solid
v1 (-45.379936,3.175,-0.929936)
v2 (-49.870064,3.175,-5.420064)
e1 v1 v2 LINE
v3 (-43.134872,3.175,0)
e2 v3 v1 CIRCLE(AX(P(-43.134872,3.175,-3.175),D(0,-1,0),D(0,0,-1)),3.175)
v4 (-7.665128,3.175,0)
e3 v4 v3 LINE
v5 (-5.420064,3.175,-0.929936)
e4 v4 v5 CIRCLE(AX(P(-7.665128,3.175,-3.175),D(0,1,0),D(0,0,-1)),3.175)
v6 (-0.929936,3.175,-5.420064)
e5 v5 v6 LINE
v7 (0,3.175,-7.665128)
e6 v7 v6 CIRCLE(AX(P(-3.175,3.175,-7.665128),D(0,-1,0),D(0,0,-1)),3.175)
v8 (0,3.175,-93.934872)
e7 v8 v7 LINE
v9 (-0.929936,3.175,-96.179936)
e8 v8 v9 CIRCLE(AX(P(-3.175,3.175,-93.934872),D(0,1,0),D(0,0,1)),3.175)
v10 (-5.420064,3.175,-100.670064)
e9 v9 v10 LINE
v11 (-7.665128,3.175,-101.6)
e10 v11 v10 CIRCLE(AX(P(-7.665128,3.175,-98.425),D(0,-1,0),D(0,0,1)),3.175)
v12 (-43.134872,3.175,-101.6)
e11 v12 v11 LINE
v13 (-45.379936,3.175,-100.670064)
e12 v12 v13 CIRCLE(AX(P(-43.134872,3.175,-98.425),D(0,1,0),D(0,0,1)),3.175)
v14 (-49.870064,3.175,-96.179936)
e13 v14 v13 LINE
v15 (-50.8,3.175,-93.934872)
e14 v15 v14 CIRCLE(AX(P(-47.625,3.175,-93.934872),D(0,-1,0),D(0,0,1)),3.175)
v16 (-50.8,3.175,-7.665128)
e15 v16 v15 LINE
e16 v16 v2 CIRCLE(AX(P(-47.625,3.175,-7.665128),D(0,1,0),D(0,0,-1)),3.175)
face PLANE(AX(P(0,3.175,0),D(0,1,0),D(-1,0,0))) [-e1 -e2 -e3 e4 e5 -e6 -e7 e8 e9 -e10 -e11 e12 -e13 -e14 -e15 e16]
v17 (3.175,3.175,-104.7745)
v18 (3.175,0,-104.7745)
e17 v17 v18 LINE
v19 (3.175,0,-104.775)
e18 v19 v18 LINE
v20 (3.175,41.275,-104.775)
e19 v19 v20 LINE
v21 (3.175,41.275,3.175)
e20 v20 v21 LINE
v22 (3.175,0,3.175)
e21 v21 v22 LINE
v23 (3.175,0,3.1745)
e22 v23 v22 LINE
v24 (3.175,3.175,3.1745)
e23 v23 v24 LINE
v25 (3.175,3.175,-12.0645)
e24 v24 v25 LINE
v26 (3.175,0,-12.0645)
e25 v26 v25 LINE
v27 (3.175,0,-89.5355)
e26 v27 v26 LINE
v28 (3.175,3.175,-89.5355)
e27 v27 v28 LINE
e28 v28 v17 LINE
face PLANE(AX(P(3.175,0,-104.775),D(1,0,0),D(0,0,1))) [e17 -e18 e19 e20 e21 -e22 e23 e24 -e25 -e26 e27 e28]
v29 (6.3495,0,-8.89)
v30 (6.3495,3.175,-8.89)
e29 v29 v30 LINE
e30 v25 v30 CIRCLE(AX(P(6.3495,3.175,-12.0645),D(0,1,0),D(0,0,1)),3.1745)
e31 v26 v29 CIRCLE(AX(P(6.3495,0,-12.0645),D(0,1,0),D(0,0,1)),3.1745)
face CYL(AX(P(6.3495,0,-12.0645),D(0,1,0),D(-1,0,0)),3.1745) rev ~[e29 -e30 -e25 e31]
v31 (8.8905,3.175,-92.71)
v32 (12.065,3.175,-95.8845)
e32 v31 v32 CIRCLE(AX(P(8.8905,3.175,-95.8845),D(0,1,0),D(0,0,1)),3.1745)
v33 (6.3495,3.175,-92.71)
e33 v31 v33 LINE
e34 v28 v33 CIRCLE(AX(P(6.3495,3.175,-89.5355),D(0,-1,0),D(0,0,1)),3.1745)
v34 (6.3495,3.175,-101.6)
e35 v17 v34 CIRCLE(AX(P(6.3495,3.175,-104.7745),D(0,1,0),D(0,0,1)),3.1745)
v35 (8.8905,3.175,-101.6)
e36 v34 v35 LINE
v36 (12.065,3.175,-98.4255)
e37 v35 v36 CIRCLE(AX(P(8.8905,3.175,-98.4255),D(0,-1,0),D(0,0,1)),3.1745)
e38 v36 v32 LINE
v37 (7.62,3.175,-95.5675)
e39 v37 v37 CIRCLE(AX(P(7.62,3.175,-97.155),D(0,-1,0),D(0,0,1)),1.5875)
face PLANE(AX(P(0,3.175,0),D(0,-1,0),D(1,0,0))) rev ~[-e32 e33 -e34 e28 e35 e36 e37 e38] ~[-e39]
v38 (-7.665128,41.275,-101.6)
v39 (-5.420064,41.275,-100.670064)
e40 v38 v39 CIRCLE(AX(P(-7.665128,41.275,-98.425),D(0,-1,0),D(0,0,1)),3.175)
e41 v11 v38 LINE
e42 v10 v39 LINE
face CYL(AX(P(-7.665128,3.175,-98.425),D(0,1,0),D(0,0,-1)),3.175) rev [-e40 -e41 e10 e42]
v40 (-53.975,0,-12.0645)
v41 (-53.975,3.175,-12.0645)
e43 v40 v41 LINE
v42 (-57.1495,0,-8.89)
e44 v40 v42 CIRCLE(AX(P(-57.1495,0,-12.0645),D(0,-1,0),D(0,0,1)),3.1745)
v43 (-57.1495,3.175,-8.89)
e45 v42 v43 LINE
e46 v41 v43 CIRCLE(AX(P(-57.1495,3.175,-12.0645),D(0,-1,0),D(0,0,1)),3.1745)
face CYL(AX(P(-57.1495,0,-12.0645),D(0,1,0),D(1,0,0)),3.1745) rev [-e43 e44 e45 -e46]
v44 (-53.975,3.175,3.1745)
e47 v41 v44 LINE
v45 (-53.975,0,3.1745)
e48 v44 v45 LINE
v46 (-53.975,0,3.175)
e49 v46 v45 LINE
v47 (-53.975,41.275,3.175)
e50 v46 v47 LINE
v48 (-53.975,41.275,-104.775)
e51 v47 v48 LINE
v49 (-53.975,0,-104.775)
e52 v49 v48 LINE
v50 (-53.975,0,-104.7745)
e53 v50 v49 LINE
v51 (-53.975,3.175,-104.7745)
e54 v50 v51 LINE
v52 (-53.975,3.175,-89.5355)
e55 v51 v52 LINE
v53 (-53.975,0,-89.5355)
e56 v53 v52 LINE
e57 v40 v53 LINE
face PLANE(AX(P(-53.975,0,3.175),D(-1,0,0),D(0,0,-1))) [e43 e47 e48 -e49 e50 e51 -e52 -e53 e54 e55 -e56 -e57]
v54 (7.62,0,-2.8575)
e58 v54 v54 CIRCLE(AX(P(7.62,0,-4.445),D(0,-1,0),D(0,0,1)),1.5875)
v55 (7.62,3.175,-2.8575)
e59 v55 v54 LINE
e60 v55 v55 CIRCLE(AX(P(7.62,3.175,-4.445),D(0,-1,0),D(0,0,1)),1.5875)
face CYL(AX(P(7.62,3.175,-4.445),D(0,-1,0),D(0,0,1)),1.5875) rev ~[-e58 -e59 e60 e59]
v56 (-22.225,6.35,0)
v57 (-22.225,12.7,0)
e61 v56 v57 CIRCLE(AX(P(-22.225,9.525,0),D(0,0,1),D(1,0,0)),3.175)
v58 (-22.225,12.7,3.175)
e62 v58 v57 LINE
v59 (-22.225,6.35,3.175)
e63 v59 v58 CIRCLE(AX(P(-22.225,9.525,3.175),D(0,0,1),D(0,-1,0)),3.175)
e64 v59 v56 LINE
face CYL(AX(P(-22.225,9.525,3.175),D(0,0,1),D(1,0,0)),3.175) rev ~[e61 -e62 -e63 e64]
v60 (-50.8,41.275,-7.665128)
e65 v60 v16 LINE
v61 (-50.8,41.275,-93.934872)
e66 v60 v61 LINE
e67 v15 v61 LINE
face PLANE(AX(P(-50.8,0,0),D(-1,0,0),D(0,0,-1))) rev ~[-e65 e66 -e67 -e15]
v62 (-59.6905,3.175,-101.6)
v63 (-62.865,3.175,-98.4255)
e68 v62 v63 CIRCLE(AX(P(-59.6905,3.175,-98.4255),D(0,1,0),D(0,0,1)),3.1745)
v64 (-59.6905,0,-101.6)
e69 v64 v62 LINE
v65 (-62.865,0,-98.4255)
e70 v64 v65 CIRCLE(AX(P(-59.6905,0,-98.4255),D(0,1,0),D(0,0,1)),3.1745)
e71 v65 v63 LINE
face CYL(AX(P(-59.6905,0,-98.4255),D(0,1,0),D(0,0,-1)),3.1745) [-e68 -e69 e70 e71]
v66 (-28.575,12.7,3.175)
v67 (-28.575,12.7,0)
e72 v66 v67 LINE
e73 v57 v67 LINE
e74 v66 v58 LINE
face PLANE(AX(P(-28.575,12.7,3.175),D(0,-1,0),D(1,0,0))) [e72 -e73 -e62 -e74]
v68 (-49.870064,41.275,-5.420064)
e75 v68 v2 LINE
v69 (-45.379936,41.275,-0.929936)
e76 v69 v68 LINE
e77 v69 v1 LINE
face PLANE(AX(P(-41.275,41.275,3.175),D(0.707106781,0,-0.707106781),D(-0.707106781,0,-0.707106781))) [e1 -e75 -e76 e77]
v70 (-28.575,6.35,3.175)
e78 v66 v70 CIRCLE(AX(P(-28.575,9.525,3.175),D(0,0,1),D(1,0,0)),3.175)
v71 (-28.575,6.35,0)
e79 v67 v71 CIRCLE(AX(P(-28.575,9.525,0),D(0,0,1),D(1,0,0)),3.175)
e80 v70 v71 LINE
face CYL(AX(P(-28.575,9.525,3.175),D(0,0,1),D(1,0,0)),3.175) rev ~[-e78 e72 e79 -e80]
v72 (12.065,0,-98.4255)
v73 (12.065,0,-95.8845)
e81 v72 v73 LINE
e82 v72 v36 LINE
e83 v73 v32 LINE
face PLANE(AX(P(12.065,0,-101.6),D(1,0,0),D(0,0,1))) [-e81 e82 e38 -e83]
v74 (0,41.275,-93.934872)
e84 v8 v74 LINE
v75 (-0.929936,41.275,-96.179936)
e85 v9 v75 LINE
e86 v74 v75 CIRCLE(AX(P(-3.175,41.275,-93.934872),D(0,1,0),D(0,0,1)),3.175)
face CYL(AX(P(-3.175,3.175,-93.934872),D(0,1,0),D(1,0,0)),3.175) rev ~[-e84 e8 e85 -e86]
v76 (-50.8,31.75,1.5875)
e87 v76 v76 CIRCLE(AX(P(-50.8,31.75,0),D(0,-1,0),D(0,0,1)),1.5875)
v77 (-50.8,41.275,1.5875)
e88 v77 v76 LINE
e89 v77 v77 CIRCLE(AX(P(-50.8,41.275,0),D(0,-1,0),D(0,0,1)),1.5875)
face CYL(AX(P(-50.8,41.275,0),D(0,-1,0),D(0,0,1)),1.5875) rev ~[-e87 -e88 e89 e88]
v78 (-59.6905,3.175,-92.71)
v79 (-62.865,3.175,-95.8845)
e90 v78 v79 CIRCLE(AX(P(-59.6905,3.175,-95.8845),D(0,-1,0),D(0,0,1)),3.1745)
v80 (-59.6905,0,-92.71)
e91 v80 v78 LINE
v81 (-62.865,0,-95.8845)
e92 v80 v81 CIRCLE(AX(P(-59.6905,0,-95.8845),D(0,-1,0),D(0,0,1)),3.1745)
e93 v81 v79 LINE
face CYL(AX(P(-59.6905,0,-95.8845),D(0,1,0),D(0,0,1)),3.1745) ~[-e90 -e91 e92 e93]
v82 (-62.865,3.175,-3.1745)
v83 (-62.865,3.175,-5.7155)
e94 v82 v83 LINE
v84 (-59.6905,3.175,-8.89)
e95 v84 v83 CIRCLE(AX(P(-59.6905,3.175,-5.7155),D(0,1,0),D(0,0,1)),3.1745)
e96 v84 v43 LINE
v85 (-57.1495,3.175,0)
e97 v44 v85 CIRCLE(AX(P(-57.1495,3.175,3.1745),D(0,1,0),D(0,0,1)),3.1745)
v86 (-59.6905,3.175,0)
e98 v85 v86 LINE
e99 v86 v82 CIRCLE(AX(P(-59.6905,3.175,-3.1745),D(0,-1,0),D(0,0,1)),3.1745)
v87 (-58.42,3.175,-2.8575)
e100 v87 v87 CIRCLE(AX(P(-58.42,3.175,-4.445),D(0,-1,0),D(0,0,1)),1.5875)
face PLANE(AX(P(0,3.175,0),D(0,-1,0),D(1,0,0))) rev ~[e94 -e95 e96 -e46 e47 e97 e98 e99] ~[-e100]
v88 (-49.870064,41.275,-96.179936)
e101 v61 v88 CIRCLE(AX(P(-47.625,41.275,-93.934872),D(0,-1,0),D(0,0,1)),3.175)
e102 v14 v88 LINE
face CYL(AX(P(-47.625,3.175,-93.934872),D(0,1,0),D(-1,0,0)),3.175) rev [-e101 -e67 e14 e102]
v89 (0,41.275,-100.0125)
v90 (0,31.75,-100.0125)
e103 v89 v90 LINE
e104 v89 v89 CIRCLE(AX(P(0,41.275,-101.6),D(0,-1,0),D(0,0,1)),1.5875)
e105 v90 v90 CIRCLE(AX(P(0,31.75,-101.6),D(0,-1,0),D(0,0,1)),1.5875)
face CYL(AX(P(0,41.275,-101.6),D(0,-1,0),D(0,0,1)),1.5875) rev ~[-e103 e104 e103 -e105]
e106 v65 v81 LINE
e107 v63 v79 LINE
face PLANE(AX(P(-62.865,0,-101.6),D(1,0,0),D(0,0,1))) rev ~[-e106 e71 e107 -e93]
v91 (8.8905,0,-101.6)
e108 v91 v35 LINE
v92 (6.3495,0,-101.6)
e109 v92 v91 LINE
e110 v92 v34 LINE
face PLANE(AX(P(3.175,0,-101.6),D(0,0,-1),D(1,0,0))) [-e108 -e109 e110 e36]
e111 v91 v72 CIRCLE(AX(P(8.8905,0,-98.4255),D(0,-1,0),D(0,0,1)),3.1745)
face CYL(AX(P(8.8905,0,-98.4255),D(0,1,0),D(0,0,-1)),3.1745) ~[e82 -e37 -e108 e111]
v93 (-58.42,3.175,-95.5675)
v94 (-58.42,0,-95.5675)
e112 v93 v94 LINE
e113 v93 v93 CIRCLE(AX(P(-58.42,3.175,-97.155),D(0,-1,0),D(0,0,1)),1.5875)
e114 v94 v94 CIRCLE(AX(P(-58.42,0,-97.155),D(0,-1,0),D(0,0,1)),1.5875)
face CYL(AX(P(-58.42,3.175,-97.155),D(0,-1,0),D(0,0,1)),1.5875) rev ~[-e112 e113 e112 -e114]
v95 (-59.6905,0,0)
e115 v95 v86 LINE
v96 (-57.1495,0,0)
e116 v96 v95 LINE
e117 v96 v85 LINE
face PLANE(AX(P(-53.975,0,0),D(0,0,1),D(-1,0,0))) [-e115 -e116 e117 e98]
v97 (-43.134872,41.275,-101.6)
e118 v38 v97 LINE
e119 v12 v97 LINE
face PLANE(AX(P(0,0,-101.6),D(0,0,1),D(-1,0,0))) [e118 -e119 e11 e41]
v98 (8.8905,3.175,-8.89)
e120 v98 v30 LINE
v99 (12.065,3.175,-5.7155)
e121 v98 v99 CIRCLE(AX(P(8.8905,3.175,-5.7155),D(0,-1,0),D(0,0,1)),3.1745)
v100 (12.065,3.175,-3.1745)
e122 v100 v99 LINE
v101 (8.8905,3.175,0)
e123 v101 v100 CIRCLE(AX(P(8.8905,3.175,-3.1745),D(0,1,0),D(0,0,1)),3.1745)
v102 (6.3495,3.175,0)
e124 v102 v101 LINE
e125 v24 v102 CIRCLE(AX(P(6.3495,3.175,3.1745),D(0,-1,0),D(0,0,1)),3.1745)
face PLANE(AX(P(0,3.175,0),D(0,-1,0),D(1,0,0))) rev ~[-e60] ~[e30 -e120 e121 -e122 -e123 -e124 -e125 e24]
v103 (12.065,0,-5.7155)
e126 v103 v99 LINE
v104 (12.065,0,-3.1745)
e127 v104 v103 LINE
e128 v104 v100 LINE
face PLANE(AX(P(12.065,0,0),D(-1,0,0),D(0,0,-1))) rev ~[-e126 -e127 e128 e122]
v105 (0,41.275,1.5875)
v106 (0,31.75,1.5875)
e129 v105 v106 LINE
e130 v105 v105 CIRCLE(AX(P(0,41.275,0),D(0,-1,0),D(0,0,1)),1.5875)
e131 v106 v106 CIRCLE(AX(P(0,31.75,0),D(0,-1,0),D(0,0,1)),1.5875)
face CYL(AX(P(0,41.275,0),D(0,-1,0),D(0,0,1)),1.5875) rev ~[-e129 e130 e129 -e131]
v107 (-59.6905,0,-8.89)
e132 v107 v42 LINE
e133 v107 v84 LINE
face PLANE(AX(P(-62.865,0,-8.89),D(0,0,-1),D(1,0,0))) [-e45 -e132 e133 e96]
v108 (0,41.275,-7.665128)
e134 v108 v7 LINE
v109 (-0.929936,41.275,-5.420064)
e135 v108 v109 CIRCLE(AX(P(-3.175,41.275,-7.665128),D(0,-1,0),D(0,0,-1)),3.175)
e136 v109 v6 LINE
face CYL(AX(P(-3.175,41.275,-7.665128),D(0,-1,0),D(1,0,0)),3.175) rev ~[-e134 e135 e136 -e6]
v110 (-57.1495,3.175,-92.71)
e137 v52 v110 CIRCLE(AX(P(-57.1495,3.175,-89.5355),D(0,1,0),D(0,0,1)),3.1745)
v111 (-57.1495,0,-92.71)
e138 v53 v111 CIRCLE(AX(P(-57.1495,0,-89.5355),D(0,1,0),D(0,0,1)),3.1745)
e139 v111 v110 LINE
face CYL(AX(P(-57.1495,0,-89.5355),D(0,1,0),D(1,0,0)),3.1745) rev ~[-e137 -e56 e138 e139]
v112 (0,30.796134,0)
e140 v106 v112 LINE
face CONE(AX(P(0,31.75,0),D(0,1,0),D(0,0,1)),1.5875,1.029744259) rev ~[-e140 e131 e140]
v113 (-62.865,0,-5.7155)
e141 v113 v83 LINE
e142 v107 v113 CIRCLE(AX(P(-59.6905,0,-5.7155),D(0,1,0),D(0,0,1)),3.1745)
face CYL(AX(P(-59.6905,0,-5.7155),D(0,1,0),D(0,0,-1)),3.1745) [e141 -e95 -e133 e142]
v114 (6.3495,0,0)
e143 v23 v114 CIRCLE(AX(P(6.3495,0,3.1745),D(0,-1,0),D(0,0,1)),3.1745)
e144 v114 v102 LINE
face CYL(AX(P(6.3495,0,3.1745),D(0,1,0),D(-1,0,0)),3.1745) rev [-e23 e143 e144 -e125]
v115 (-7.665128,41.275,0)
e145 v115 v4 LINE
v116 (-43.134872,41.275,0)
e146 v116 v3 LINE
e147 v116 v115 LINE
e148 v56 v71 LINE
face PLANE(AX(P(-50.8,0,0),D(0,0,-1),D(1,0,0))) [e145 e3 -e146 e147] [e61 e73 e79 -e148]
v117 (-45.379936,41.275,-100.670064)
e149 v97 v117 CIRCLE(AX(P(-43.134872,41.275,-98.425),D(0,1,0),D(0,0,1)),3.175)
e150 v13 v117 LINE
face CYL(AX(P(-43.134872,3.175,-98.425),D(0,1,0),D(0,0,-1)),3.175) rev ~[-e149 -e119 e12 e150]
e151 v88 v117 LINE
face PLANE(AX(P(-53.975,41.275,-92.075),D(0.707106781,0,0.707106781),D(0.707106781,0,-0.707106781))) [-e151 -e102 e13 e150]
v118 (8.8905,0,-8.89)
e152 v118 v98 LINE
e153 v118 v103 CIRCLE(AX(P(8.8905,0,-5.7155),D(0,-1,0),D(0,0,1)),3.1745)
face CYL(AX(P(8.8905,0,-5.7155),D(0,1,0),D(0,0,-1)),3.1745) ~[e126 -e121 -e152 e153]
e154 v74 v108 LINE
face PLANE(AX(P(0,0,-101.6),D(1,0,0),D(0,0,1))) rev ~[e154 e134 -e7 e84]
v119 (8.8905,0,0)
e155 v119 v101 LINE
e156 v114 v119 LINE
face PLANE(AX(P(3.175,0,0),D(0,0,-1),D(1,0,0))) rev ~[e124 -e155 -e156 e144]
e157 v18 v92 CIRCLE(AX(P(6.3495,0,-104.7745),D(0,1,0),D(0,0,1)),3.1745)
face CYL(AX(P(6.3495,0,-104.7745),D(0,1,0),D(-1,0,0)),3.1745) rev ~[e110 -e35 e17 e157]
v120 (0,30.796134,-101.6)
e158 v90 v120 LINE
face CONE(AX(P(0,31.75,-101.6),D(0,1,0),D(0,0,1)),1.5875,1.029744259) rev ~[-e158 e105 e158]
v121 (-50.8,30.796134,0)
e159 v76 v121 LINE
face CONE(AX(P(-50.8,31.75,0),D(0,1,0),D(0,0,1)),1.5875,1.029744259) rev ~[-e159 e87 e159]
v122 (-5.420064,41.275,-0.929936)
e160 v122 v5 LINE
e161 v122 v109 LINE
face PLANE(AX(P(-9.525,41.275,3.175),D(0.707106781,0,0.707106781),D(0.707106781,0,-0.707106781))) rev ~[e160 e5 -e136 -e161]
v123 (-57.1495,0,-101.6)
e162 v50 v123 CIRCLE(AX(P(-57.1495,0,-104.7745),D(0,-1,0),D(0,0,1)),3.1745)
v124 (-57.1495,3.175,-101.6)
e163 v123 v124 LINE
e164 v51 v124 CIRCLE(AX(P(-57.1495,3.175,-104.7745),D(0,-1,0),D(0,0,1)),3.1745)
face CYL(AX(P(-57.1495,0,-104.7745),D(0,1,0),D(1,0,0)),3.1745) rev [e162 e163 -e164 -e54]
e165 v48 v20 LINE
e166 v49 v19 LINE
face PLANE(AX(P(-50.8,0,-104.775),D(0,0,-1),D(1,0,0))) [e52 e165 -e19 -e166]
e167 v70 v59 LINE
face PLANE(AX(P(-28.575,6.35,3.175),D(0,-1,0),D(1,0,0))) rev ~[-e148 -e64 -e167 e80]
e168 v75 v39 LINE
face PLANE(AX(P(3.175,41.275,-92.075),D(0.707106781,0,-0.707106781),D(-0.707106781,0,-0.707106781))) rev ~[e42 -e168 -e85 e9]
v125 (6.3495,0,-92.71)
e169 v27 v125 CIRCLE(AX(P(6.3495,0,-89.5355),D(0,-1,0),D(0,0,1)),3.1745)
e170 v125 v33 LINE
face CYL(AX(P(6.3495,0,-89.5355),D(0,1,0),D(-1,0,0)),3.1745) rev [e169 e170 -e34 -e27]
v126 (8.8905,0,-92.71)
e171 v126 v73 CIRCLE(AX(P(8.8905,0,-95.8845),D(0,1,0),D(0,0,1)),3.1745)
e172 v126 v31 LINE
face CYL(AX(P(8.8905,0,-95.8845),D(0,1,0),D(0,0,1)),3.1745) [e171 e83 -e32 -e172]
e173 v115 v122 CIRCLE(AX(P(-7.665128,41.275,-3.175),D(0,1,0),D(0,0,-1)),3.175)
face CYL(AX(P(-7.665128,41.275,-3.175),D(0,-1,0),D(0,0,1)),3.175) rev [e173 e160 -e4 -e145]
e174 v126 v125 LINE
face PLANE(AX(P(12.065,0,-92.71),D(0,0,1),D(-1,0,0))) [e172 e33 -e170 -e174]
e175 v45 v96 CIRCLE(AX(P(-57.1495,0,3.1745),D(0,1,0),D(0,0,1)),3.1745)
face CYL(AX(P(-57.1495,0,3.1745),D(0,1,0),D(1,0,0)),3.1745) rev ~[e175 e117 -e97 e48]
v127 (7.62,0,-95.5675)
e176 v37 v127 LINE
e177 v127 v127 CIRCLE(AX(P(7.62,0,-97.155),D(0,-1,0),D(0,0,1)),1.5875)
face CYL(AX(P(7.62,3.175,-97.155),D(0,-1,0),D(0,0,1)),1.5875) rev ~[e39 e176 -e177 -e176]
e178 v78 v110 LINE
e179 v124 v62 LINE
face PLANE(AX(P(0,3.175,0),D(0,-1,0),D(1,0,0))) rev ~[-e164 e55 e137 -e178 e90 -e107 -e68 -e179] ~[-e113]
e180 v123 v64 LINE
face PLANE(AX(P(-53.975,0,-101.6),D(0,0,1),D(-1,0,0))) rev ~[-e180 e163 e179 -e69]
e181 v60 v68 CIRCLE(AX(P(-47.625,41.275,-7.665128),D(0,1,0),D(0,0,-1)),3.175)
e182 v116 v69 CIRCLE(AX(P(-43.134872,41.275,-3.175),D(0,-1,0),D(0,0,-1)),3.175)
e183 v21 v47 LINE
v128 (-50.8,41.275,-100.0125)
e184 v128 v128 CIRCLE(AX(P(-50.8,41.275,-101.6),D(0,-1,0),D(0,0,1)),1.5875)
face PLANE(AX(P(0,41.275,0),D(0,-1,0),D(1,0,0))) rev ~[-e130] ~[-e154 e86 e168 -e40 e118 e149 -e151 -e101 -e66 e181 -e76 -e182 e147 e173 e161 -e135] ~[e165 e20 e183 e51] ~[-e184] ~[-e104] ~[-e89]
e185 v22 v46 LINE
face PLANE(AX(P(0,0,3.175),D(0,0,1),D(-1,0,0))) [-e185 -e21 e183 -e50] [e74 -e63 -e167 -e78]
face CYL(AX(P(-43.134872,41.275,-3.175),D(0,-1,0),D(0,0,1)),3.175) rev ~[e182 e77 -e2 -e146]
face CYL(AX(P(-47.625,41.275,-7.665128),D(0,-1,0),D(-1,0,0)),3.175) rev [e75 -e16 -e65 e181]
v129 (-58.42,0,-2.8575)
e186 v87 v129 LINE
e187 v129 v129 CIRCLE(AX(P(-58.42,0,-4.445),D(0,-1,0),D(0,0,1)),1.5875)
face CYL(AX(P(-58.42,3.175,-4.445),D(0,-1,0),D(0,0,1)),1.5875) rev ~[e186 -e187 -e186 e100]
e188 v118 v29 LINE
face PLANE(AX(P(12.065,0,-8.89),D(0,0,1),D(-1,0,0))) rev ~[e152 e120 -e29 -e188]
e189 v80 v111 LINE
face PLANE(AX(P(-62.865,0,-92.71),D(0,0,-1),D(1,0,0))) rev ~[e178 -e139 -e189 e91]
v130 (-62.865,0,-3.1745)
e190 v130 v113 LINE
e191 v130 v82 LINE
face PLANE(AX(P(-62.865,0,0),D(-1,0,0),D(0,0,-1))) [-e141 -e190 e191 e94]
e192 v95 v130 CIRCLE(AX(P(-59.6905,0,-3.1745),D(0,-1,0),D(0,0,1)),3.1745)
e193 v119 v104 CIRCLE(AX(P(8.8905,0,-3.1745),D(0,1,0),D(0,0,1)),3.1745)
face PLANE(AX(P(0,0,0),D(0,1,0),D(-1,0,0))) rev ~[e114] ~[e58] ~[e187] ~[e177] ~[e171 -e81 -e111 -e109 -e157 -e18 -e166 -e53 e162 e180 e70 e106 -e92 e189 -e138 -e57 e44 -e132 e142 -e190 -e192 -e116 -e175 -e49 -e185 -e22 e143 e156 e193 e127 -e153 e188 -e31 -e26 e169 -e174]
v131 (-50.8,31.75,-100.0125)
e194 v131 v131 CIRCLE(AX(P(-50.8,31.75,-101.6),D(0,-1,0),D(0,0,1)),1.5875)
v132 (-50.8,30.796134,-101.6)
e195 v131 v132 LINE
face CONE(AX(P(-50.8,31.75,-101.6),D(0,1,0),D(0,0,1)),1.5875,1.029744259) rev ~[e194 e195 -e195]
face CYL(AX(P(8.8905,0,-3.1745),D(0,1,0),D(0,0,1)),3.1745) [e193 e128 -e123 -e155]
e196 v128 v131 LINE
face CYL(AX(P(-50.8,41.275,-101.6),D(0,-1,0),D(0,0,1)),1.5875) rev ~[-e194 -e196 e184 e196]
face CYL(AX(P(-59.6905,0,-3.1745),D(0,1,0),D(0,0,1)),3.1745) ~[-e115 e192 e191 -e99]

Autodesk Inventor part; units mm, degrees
ref_plane "YZ Plane" through (0, 0, 0) normal (1, 0, 0) x (0, 1, 0)
ref_plane "XZ Plane" through (0, 0, 0) normal (0, 1, 0) x (-1, 0, 0)
ref_plane "XY Plane" through (0, 0, 0) normal (0, 0, 1) x (1, 0, 0)
sketch "Sketch1" plane through (0, 0, 0) normal (0, 1, 0) x (-1, 0, 0)
  line L0 (0, 0) -> (50.8, 0)
  line L1 (50.8, 0) -> (50.8, -101.6)
  line L2 (50.8, -101.6) -> (0, -101.6)
  line L3 (0, -101.6) -> (0, 0)
  dimension "d0" = 50.8
  dimension "d1" = 101.6
extrude "Extrusion1" add sketch "Sketch1" along normal blind 3.175
sketch "Sketch2" plane through (0, 0, 0) normal (0, -1, 0) x (1, 0, 0)
  line L0 (-50.8, 0) -> (0, 0) projected
  line L1 (0, 0) -> (3.175, 0)
  line L2 (3.175, 0) -> (3.175, 3.175)
  line L3 (3.175, 3.175) -> (0, 3.175)
  line L4 (0, 3.175) -> (0, 0)
  line L5 (0, -101.6) -> (-50.8, -101.6) projected
  line L6 (-50.8, -101.6) -> (-53.975, -101.6)
  line L7 (-53.975, -101.6) -> (-53.975, -104.775)
  line L8 (-53.975, -104.775) -> (-50.8, -104.775)
  line L9 (-50.8, -104.775) -> (-50.8, -101.6)
  line L10 (3.175, 3.175) -> (-53.975, 3.175)
  line L11 (-53.975, 3.175) -> (-53.975, -104.775)
  line L12 (-53.975, -104.775) -> (3.175, -104.775)
  line L13 (3.175, -104.775) -> (3.175, 3.175)
  line L14 (-50.8, -101.6) -> (0, -101.6)
  line L15 (0, -101.6) -> (0, 0)
  line L16 (0, 0) -> (-50.8, 0)
  line L17 (-50.8, 0) -> (-50.8, -101.6)
  dimension "d4" = 3.175
  dimension "d5" = 3.175
  dimension "d6" = 3.175
  dimension "d7" = 3.175
extrude "Extrusion2" add sketch "Sketch2" against normal blind 41.275 contours L17 L6 L11 L10 L4 L0 | L4 L3 L2 L1 | L1 L13 L12 L9 L5 L15 | L9 L8 L7 L6
sketch "Sketch3" plane through (0, 0, 0) normal (0, -1, 0) x (1, 0, 0)
  line L0 (0, -101.6) -> (0, 0) projected
  line L1 (3.175, 3.175) -> (3.175, -104.775) projected
  line L2 (0, 0) -> (3.175, 0)
  line L3 (3.175, 0) -> (12.065, 0)
  line L4 (12.065, 0) -> (12.065, -8.89)
  line L5 (12.065, -8.89) -> (3.175, -8.89)
  line L6 (3.175, -8.89) -> (3.175, 0)
  line L7 (-53.975, -104.775) -> (-53.975, 3.175) projected
  line L8 (-53.975, 0) -> (-62.865, 0)
  line L9 (-62.865, 0) -> (-62.865, -8.89)
  line L10 (-62.865, -8.89) -> (-53.975, -8.89)
  line L11 (-53.975, -8.89) -> (-53.975, 0)
  line L12 (-53.975, -101.6) -> (-62.865, -101.6)
  line L13 (-62.865, -101.6) -> (-62.865, -92.71)
  line L14 (-62.865, -92.71) -> (-53.975, -92.71)
  line L15 (-53.975, -92.71) -> (-53.975, -101.6)
  line L16 (3.175, -101.6) -> (12.065, -101.6)
  line L17 (12.065, -101.6) -> (12.065, -92.71)
  line L18 (12.065, -92.71) -> (3.175, -92.71)
  line L19 (3.175, -92.71) -> (3.175, -101.6)
  dimension "d11" = 8.89
  dimension "d12" = 8.89
  dimension "d13" = 8.89
  dimension "d14" = 8.89
  dimension "d15" = 8.89
  dimension "d16" = 8.89
  dimension "d17" = 8.89
  dimension "d18" = 8.89
extrude "Extrusion3" add sketch "Sketch3" against normal blind 3.175
fillet "Fillet1" radius 3.175 16 edges at (3.175, 1.5875, 0) (12.065, 1.5875, 0) (12.065, 1.5875, -8.89) (3.175, 1.5875, -8.89) (12.065, 1.5875, -92.71) (3.175, 1.5875, -92.71) (12.065, 1.5875, -101.6) (3.175, 1.5875, -101.6) (-53.975, 1.5875, -101.6) (-62.865, 1.5875, -101.6) (-62.865, 1.5875, -92.71) (-53.975, 1.5875, -92.71) (-53.975, 1.5875, 0) (-62.865, 1.5875, 0) (-62.865, 1.5875, -8.89) (-53.975, 1.5875, -8.89)
sketch "Sketch4" plane through (0, 3.175, 0) normal (0, 1, 0) x (1, 0, 0)
  line L0 (-59.69, 8.89) -> (-57.15, 8.89) construction
  line L1 (-58.42, 8.89) -> (-58.42, 0) construction
  line L2 (-59.69, 0) -> (-57.15, 0) construction
  line L3 (6.35, 8.89) -> (8.89, 8.89) construction
  line L4 (7.62, 8.89) -> (7.62, 0) construction
  line L5 (8.89, 0) -> (6.35, 0) construction
  line L6 (8.89, 101.6) -> (6.35, 101.6) construction
  line L7 (7.62, 101.6) -> (7.62, 92.71) construction
  line L8 (6.35, 92.71) -> (8.89, 92.71) construction
  line L9 (-57.15, 101.6) -> (-59.69, 101.6) construction
  line L10 (-58.42, 101.6) -> (-58.42, 92.71) construction
  line L11 (-59.69, 92.71) -> (-57.15, 92.71) construction
  point P0 (0, 0)
  point P1 (-58.42, 97.155)
  point P2 (7.62, 97.155)
  point P3 (7.62, 4.445)
  point P4 (-58.42, 4.445)
hole "Hole1" at (-58.42, 3.175, -97.155) at (7.62, 3.175, -97.155) at (7.62, 3.175, -4.445) at (-58.42, 3.175, -4.445) direction (0, -1, 0) diameter 3.175 depth 25.4 tip angle 118
sketch "Sketch5" plane through (0, 41.275, 0) normal (0, 1, 0) x (1, 0, 0)
  line L0 (-53.975, 104.775) -> (3.175, 104.775) projected
  line L1 (3.175, 104.775) -> (-9.525, 104.775)
  arc A0 (3.175, 104.775) -> (6.35, 101.6) centre (6.35, 104.775) ccw projected
  line L2 (3.175, 104.775) -> (3.175, 92.075)
  line L3 (3.175, 92.075) -> (-9.525, 104.775)
  line L4 (3.175, -3.175) -> (-53.975, -3.175) projected
  line L5 (3.175, -3.175) -> (3.175, 9.525)
  line L6 (3.175, -3.175) -> (3.175, 12.065) projected
  line L7 (3.175, -3.175) -> (-9.525, -3.175)
  line L8 (-9.525, -3.175) -> (3.175, 9.525)
  line L9 (-25.4, 104.775) -> (-25.4, -3.175) construction
  line L10 (3.175, 104.775) -> (-53.975, 104.775)
  line L11 (-53.975, 104.775) -> (-41.275, 104.775)
  line L12 (-53.975, 104.775) -> (-53.975, 92.075)
  line L13 (-53.975, 92.075) -> (-41.275, 104.775)
  line L14 (-53.975, -3.175) -> (3.175, -3.175)
  line L15 (-53.975, -3.175) -> (-53.975, 9.525)
  line L16 (-53.975, -3.175) -> (-41.275, -3.175)
  line L17 (-41.275, -3.175) -> (-53.975, 9.525)
  point P0 (0, 0)
  dimension "d29" = 12.7
  dimension "d30" = 12.7
  dimension "d31" = 12.7
  dimension "d32" = 12.7
extrude "Extrusion4" add sketch "Sketch5" against normal blind 39.37
fillet "Fillet2" radius 3.175 8 edges at (-6.35, 22.225, -101.6) (0, 22.225, -95.25) (-44.45, 22.225, -101.6) (-50.8, 22.225, -95.25) (-50.8, 22.225, -6.35) (-44.45, 22.225, 0) (-6.35, 22.225, 0) (0, 22.225, -6.35)
sketch "Sketch6" plane through (0, 41.275, 0) normal (0, 1, 0) x (1, 0, 0)
  line L0 (-50.8, 93.9349) -> (-50.8, 7.6651) projected
  line L1 (0, 0) -> (0, 93.9349) projected
  point P0 (-50.8, 0)
  point P1 (-50.8, 101.6)
  point P2 (-50.8, 101.6)
  point P3 (0, 101.6)
hole "Hole2" at (0, 41.275, 0) at (-50.8, 41.275, 0) at (-50.8, 41.275, -101.6) at (0, 41.275, -101.6) direction (0, -1, 0) diameter 3.175 depth 9.525 tip angle 118
sketch "Sketch7" plane through (-53.975, 41.275, 3.175) normal (0, 0, 1) x (1, 0, 0)
  line L0 (46.3099, -38.1) -> (10.8401, -38.1) construction
  line L1 (28.575, -38.1) -> (28.575, -31.75) construction
  line L2 (28.575, -31.75) -> (25.4, -31.75) construction
  line L3 (28.575, -31.75) -> (31.75, -31.75) construction
  circle A0 centre (25.4, -31.75) radius 3.175
  circle A1 centre (31.75, -31.75) radius 3.175
  line L4 (25.4, -28.575) -> (31.75, -28.575)
  line L5 (25.4, -34.925) -> (31.75, -34.925)
  point P0 (53.975, -41.275)
  dimension "d49" = 6.35
  dimension "d50" = 3.175
  dimension "d51" = 3.175
  dimension "d52" = 6.35
  dimension "d53" = 6.35
extrude "Extrusion5" cut sketch "Sketch7" against normal blind 25.4
properties part number "box"
